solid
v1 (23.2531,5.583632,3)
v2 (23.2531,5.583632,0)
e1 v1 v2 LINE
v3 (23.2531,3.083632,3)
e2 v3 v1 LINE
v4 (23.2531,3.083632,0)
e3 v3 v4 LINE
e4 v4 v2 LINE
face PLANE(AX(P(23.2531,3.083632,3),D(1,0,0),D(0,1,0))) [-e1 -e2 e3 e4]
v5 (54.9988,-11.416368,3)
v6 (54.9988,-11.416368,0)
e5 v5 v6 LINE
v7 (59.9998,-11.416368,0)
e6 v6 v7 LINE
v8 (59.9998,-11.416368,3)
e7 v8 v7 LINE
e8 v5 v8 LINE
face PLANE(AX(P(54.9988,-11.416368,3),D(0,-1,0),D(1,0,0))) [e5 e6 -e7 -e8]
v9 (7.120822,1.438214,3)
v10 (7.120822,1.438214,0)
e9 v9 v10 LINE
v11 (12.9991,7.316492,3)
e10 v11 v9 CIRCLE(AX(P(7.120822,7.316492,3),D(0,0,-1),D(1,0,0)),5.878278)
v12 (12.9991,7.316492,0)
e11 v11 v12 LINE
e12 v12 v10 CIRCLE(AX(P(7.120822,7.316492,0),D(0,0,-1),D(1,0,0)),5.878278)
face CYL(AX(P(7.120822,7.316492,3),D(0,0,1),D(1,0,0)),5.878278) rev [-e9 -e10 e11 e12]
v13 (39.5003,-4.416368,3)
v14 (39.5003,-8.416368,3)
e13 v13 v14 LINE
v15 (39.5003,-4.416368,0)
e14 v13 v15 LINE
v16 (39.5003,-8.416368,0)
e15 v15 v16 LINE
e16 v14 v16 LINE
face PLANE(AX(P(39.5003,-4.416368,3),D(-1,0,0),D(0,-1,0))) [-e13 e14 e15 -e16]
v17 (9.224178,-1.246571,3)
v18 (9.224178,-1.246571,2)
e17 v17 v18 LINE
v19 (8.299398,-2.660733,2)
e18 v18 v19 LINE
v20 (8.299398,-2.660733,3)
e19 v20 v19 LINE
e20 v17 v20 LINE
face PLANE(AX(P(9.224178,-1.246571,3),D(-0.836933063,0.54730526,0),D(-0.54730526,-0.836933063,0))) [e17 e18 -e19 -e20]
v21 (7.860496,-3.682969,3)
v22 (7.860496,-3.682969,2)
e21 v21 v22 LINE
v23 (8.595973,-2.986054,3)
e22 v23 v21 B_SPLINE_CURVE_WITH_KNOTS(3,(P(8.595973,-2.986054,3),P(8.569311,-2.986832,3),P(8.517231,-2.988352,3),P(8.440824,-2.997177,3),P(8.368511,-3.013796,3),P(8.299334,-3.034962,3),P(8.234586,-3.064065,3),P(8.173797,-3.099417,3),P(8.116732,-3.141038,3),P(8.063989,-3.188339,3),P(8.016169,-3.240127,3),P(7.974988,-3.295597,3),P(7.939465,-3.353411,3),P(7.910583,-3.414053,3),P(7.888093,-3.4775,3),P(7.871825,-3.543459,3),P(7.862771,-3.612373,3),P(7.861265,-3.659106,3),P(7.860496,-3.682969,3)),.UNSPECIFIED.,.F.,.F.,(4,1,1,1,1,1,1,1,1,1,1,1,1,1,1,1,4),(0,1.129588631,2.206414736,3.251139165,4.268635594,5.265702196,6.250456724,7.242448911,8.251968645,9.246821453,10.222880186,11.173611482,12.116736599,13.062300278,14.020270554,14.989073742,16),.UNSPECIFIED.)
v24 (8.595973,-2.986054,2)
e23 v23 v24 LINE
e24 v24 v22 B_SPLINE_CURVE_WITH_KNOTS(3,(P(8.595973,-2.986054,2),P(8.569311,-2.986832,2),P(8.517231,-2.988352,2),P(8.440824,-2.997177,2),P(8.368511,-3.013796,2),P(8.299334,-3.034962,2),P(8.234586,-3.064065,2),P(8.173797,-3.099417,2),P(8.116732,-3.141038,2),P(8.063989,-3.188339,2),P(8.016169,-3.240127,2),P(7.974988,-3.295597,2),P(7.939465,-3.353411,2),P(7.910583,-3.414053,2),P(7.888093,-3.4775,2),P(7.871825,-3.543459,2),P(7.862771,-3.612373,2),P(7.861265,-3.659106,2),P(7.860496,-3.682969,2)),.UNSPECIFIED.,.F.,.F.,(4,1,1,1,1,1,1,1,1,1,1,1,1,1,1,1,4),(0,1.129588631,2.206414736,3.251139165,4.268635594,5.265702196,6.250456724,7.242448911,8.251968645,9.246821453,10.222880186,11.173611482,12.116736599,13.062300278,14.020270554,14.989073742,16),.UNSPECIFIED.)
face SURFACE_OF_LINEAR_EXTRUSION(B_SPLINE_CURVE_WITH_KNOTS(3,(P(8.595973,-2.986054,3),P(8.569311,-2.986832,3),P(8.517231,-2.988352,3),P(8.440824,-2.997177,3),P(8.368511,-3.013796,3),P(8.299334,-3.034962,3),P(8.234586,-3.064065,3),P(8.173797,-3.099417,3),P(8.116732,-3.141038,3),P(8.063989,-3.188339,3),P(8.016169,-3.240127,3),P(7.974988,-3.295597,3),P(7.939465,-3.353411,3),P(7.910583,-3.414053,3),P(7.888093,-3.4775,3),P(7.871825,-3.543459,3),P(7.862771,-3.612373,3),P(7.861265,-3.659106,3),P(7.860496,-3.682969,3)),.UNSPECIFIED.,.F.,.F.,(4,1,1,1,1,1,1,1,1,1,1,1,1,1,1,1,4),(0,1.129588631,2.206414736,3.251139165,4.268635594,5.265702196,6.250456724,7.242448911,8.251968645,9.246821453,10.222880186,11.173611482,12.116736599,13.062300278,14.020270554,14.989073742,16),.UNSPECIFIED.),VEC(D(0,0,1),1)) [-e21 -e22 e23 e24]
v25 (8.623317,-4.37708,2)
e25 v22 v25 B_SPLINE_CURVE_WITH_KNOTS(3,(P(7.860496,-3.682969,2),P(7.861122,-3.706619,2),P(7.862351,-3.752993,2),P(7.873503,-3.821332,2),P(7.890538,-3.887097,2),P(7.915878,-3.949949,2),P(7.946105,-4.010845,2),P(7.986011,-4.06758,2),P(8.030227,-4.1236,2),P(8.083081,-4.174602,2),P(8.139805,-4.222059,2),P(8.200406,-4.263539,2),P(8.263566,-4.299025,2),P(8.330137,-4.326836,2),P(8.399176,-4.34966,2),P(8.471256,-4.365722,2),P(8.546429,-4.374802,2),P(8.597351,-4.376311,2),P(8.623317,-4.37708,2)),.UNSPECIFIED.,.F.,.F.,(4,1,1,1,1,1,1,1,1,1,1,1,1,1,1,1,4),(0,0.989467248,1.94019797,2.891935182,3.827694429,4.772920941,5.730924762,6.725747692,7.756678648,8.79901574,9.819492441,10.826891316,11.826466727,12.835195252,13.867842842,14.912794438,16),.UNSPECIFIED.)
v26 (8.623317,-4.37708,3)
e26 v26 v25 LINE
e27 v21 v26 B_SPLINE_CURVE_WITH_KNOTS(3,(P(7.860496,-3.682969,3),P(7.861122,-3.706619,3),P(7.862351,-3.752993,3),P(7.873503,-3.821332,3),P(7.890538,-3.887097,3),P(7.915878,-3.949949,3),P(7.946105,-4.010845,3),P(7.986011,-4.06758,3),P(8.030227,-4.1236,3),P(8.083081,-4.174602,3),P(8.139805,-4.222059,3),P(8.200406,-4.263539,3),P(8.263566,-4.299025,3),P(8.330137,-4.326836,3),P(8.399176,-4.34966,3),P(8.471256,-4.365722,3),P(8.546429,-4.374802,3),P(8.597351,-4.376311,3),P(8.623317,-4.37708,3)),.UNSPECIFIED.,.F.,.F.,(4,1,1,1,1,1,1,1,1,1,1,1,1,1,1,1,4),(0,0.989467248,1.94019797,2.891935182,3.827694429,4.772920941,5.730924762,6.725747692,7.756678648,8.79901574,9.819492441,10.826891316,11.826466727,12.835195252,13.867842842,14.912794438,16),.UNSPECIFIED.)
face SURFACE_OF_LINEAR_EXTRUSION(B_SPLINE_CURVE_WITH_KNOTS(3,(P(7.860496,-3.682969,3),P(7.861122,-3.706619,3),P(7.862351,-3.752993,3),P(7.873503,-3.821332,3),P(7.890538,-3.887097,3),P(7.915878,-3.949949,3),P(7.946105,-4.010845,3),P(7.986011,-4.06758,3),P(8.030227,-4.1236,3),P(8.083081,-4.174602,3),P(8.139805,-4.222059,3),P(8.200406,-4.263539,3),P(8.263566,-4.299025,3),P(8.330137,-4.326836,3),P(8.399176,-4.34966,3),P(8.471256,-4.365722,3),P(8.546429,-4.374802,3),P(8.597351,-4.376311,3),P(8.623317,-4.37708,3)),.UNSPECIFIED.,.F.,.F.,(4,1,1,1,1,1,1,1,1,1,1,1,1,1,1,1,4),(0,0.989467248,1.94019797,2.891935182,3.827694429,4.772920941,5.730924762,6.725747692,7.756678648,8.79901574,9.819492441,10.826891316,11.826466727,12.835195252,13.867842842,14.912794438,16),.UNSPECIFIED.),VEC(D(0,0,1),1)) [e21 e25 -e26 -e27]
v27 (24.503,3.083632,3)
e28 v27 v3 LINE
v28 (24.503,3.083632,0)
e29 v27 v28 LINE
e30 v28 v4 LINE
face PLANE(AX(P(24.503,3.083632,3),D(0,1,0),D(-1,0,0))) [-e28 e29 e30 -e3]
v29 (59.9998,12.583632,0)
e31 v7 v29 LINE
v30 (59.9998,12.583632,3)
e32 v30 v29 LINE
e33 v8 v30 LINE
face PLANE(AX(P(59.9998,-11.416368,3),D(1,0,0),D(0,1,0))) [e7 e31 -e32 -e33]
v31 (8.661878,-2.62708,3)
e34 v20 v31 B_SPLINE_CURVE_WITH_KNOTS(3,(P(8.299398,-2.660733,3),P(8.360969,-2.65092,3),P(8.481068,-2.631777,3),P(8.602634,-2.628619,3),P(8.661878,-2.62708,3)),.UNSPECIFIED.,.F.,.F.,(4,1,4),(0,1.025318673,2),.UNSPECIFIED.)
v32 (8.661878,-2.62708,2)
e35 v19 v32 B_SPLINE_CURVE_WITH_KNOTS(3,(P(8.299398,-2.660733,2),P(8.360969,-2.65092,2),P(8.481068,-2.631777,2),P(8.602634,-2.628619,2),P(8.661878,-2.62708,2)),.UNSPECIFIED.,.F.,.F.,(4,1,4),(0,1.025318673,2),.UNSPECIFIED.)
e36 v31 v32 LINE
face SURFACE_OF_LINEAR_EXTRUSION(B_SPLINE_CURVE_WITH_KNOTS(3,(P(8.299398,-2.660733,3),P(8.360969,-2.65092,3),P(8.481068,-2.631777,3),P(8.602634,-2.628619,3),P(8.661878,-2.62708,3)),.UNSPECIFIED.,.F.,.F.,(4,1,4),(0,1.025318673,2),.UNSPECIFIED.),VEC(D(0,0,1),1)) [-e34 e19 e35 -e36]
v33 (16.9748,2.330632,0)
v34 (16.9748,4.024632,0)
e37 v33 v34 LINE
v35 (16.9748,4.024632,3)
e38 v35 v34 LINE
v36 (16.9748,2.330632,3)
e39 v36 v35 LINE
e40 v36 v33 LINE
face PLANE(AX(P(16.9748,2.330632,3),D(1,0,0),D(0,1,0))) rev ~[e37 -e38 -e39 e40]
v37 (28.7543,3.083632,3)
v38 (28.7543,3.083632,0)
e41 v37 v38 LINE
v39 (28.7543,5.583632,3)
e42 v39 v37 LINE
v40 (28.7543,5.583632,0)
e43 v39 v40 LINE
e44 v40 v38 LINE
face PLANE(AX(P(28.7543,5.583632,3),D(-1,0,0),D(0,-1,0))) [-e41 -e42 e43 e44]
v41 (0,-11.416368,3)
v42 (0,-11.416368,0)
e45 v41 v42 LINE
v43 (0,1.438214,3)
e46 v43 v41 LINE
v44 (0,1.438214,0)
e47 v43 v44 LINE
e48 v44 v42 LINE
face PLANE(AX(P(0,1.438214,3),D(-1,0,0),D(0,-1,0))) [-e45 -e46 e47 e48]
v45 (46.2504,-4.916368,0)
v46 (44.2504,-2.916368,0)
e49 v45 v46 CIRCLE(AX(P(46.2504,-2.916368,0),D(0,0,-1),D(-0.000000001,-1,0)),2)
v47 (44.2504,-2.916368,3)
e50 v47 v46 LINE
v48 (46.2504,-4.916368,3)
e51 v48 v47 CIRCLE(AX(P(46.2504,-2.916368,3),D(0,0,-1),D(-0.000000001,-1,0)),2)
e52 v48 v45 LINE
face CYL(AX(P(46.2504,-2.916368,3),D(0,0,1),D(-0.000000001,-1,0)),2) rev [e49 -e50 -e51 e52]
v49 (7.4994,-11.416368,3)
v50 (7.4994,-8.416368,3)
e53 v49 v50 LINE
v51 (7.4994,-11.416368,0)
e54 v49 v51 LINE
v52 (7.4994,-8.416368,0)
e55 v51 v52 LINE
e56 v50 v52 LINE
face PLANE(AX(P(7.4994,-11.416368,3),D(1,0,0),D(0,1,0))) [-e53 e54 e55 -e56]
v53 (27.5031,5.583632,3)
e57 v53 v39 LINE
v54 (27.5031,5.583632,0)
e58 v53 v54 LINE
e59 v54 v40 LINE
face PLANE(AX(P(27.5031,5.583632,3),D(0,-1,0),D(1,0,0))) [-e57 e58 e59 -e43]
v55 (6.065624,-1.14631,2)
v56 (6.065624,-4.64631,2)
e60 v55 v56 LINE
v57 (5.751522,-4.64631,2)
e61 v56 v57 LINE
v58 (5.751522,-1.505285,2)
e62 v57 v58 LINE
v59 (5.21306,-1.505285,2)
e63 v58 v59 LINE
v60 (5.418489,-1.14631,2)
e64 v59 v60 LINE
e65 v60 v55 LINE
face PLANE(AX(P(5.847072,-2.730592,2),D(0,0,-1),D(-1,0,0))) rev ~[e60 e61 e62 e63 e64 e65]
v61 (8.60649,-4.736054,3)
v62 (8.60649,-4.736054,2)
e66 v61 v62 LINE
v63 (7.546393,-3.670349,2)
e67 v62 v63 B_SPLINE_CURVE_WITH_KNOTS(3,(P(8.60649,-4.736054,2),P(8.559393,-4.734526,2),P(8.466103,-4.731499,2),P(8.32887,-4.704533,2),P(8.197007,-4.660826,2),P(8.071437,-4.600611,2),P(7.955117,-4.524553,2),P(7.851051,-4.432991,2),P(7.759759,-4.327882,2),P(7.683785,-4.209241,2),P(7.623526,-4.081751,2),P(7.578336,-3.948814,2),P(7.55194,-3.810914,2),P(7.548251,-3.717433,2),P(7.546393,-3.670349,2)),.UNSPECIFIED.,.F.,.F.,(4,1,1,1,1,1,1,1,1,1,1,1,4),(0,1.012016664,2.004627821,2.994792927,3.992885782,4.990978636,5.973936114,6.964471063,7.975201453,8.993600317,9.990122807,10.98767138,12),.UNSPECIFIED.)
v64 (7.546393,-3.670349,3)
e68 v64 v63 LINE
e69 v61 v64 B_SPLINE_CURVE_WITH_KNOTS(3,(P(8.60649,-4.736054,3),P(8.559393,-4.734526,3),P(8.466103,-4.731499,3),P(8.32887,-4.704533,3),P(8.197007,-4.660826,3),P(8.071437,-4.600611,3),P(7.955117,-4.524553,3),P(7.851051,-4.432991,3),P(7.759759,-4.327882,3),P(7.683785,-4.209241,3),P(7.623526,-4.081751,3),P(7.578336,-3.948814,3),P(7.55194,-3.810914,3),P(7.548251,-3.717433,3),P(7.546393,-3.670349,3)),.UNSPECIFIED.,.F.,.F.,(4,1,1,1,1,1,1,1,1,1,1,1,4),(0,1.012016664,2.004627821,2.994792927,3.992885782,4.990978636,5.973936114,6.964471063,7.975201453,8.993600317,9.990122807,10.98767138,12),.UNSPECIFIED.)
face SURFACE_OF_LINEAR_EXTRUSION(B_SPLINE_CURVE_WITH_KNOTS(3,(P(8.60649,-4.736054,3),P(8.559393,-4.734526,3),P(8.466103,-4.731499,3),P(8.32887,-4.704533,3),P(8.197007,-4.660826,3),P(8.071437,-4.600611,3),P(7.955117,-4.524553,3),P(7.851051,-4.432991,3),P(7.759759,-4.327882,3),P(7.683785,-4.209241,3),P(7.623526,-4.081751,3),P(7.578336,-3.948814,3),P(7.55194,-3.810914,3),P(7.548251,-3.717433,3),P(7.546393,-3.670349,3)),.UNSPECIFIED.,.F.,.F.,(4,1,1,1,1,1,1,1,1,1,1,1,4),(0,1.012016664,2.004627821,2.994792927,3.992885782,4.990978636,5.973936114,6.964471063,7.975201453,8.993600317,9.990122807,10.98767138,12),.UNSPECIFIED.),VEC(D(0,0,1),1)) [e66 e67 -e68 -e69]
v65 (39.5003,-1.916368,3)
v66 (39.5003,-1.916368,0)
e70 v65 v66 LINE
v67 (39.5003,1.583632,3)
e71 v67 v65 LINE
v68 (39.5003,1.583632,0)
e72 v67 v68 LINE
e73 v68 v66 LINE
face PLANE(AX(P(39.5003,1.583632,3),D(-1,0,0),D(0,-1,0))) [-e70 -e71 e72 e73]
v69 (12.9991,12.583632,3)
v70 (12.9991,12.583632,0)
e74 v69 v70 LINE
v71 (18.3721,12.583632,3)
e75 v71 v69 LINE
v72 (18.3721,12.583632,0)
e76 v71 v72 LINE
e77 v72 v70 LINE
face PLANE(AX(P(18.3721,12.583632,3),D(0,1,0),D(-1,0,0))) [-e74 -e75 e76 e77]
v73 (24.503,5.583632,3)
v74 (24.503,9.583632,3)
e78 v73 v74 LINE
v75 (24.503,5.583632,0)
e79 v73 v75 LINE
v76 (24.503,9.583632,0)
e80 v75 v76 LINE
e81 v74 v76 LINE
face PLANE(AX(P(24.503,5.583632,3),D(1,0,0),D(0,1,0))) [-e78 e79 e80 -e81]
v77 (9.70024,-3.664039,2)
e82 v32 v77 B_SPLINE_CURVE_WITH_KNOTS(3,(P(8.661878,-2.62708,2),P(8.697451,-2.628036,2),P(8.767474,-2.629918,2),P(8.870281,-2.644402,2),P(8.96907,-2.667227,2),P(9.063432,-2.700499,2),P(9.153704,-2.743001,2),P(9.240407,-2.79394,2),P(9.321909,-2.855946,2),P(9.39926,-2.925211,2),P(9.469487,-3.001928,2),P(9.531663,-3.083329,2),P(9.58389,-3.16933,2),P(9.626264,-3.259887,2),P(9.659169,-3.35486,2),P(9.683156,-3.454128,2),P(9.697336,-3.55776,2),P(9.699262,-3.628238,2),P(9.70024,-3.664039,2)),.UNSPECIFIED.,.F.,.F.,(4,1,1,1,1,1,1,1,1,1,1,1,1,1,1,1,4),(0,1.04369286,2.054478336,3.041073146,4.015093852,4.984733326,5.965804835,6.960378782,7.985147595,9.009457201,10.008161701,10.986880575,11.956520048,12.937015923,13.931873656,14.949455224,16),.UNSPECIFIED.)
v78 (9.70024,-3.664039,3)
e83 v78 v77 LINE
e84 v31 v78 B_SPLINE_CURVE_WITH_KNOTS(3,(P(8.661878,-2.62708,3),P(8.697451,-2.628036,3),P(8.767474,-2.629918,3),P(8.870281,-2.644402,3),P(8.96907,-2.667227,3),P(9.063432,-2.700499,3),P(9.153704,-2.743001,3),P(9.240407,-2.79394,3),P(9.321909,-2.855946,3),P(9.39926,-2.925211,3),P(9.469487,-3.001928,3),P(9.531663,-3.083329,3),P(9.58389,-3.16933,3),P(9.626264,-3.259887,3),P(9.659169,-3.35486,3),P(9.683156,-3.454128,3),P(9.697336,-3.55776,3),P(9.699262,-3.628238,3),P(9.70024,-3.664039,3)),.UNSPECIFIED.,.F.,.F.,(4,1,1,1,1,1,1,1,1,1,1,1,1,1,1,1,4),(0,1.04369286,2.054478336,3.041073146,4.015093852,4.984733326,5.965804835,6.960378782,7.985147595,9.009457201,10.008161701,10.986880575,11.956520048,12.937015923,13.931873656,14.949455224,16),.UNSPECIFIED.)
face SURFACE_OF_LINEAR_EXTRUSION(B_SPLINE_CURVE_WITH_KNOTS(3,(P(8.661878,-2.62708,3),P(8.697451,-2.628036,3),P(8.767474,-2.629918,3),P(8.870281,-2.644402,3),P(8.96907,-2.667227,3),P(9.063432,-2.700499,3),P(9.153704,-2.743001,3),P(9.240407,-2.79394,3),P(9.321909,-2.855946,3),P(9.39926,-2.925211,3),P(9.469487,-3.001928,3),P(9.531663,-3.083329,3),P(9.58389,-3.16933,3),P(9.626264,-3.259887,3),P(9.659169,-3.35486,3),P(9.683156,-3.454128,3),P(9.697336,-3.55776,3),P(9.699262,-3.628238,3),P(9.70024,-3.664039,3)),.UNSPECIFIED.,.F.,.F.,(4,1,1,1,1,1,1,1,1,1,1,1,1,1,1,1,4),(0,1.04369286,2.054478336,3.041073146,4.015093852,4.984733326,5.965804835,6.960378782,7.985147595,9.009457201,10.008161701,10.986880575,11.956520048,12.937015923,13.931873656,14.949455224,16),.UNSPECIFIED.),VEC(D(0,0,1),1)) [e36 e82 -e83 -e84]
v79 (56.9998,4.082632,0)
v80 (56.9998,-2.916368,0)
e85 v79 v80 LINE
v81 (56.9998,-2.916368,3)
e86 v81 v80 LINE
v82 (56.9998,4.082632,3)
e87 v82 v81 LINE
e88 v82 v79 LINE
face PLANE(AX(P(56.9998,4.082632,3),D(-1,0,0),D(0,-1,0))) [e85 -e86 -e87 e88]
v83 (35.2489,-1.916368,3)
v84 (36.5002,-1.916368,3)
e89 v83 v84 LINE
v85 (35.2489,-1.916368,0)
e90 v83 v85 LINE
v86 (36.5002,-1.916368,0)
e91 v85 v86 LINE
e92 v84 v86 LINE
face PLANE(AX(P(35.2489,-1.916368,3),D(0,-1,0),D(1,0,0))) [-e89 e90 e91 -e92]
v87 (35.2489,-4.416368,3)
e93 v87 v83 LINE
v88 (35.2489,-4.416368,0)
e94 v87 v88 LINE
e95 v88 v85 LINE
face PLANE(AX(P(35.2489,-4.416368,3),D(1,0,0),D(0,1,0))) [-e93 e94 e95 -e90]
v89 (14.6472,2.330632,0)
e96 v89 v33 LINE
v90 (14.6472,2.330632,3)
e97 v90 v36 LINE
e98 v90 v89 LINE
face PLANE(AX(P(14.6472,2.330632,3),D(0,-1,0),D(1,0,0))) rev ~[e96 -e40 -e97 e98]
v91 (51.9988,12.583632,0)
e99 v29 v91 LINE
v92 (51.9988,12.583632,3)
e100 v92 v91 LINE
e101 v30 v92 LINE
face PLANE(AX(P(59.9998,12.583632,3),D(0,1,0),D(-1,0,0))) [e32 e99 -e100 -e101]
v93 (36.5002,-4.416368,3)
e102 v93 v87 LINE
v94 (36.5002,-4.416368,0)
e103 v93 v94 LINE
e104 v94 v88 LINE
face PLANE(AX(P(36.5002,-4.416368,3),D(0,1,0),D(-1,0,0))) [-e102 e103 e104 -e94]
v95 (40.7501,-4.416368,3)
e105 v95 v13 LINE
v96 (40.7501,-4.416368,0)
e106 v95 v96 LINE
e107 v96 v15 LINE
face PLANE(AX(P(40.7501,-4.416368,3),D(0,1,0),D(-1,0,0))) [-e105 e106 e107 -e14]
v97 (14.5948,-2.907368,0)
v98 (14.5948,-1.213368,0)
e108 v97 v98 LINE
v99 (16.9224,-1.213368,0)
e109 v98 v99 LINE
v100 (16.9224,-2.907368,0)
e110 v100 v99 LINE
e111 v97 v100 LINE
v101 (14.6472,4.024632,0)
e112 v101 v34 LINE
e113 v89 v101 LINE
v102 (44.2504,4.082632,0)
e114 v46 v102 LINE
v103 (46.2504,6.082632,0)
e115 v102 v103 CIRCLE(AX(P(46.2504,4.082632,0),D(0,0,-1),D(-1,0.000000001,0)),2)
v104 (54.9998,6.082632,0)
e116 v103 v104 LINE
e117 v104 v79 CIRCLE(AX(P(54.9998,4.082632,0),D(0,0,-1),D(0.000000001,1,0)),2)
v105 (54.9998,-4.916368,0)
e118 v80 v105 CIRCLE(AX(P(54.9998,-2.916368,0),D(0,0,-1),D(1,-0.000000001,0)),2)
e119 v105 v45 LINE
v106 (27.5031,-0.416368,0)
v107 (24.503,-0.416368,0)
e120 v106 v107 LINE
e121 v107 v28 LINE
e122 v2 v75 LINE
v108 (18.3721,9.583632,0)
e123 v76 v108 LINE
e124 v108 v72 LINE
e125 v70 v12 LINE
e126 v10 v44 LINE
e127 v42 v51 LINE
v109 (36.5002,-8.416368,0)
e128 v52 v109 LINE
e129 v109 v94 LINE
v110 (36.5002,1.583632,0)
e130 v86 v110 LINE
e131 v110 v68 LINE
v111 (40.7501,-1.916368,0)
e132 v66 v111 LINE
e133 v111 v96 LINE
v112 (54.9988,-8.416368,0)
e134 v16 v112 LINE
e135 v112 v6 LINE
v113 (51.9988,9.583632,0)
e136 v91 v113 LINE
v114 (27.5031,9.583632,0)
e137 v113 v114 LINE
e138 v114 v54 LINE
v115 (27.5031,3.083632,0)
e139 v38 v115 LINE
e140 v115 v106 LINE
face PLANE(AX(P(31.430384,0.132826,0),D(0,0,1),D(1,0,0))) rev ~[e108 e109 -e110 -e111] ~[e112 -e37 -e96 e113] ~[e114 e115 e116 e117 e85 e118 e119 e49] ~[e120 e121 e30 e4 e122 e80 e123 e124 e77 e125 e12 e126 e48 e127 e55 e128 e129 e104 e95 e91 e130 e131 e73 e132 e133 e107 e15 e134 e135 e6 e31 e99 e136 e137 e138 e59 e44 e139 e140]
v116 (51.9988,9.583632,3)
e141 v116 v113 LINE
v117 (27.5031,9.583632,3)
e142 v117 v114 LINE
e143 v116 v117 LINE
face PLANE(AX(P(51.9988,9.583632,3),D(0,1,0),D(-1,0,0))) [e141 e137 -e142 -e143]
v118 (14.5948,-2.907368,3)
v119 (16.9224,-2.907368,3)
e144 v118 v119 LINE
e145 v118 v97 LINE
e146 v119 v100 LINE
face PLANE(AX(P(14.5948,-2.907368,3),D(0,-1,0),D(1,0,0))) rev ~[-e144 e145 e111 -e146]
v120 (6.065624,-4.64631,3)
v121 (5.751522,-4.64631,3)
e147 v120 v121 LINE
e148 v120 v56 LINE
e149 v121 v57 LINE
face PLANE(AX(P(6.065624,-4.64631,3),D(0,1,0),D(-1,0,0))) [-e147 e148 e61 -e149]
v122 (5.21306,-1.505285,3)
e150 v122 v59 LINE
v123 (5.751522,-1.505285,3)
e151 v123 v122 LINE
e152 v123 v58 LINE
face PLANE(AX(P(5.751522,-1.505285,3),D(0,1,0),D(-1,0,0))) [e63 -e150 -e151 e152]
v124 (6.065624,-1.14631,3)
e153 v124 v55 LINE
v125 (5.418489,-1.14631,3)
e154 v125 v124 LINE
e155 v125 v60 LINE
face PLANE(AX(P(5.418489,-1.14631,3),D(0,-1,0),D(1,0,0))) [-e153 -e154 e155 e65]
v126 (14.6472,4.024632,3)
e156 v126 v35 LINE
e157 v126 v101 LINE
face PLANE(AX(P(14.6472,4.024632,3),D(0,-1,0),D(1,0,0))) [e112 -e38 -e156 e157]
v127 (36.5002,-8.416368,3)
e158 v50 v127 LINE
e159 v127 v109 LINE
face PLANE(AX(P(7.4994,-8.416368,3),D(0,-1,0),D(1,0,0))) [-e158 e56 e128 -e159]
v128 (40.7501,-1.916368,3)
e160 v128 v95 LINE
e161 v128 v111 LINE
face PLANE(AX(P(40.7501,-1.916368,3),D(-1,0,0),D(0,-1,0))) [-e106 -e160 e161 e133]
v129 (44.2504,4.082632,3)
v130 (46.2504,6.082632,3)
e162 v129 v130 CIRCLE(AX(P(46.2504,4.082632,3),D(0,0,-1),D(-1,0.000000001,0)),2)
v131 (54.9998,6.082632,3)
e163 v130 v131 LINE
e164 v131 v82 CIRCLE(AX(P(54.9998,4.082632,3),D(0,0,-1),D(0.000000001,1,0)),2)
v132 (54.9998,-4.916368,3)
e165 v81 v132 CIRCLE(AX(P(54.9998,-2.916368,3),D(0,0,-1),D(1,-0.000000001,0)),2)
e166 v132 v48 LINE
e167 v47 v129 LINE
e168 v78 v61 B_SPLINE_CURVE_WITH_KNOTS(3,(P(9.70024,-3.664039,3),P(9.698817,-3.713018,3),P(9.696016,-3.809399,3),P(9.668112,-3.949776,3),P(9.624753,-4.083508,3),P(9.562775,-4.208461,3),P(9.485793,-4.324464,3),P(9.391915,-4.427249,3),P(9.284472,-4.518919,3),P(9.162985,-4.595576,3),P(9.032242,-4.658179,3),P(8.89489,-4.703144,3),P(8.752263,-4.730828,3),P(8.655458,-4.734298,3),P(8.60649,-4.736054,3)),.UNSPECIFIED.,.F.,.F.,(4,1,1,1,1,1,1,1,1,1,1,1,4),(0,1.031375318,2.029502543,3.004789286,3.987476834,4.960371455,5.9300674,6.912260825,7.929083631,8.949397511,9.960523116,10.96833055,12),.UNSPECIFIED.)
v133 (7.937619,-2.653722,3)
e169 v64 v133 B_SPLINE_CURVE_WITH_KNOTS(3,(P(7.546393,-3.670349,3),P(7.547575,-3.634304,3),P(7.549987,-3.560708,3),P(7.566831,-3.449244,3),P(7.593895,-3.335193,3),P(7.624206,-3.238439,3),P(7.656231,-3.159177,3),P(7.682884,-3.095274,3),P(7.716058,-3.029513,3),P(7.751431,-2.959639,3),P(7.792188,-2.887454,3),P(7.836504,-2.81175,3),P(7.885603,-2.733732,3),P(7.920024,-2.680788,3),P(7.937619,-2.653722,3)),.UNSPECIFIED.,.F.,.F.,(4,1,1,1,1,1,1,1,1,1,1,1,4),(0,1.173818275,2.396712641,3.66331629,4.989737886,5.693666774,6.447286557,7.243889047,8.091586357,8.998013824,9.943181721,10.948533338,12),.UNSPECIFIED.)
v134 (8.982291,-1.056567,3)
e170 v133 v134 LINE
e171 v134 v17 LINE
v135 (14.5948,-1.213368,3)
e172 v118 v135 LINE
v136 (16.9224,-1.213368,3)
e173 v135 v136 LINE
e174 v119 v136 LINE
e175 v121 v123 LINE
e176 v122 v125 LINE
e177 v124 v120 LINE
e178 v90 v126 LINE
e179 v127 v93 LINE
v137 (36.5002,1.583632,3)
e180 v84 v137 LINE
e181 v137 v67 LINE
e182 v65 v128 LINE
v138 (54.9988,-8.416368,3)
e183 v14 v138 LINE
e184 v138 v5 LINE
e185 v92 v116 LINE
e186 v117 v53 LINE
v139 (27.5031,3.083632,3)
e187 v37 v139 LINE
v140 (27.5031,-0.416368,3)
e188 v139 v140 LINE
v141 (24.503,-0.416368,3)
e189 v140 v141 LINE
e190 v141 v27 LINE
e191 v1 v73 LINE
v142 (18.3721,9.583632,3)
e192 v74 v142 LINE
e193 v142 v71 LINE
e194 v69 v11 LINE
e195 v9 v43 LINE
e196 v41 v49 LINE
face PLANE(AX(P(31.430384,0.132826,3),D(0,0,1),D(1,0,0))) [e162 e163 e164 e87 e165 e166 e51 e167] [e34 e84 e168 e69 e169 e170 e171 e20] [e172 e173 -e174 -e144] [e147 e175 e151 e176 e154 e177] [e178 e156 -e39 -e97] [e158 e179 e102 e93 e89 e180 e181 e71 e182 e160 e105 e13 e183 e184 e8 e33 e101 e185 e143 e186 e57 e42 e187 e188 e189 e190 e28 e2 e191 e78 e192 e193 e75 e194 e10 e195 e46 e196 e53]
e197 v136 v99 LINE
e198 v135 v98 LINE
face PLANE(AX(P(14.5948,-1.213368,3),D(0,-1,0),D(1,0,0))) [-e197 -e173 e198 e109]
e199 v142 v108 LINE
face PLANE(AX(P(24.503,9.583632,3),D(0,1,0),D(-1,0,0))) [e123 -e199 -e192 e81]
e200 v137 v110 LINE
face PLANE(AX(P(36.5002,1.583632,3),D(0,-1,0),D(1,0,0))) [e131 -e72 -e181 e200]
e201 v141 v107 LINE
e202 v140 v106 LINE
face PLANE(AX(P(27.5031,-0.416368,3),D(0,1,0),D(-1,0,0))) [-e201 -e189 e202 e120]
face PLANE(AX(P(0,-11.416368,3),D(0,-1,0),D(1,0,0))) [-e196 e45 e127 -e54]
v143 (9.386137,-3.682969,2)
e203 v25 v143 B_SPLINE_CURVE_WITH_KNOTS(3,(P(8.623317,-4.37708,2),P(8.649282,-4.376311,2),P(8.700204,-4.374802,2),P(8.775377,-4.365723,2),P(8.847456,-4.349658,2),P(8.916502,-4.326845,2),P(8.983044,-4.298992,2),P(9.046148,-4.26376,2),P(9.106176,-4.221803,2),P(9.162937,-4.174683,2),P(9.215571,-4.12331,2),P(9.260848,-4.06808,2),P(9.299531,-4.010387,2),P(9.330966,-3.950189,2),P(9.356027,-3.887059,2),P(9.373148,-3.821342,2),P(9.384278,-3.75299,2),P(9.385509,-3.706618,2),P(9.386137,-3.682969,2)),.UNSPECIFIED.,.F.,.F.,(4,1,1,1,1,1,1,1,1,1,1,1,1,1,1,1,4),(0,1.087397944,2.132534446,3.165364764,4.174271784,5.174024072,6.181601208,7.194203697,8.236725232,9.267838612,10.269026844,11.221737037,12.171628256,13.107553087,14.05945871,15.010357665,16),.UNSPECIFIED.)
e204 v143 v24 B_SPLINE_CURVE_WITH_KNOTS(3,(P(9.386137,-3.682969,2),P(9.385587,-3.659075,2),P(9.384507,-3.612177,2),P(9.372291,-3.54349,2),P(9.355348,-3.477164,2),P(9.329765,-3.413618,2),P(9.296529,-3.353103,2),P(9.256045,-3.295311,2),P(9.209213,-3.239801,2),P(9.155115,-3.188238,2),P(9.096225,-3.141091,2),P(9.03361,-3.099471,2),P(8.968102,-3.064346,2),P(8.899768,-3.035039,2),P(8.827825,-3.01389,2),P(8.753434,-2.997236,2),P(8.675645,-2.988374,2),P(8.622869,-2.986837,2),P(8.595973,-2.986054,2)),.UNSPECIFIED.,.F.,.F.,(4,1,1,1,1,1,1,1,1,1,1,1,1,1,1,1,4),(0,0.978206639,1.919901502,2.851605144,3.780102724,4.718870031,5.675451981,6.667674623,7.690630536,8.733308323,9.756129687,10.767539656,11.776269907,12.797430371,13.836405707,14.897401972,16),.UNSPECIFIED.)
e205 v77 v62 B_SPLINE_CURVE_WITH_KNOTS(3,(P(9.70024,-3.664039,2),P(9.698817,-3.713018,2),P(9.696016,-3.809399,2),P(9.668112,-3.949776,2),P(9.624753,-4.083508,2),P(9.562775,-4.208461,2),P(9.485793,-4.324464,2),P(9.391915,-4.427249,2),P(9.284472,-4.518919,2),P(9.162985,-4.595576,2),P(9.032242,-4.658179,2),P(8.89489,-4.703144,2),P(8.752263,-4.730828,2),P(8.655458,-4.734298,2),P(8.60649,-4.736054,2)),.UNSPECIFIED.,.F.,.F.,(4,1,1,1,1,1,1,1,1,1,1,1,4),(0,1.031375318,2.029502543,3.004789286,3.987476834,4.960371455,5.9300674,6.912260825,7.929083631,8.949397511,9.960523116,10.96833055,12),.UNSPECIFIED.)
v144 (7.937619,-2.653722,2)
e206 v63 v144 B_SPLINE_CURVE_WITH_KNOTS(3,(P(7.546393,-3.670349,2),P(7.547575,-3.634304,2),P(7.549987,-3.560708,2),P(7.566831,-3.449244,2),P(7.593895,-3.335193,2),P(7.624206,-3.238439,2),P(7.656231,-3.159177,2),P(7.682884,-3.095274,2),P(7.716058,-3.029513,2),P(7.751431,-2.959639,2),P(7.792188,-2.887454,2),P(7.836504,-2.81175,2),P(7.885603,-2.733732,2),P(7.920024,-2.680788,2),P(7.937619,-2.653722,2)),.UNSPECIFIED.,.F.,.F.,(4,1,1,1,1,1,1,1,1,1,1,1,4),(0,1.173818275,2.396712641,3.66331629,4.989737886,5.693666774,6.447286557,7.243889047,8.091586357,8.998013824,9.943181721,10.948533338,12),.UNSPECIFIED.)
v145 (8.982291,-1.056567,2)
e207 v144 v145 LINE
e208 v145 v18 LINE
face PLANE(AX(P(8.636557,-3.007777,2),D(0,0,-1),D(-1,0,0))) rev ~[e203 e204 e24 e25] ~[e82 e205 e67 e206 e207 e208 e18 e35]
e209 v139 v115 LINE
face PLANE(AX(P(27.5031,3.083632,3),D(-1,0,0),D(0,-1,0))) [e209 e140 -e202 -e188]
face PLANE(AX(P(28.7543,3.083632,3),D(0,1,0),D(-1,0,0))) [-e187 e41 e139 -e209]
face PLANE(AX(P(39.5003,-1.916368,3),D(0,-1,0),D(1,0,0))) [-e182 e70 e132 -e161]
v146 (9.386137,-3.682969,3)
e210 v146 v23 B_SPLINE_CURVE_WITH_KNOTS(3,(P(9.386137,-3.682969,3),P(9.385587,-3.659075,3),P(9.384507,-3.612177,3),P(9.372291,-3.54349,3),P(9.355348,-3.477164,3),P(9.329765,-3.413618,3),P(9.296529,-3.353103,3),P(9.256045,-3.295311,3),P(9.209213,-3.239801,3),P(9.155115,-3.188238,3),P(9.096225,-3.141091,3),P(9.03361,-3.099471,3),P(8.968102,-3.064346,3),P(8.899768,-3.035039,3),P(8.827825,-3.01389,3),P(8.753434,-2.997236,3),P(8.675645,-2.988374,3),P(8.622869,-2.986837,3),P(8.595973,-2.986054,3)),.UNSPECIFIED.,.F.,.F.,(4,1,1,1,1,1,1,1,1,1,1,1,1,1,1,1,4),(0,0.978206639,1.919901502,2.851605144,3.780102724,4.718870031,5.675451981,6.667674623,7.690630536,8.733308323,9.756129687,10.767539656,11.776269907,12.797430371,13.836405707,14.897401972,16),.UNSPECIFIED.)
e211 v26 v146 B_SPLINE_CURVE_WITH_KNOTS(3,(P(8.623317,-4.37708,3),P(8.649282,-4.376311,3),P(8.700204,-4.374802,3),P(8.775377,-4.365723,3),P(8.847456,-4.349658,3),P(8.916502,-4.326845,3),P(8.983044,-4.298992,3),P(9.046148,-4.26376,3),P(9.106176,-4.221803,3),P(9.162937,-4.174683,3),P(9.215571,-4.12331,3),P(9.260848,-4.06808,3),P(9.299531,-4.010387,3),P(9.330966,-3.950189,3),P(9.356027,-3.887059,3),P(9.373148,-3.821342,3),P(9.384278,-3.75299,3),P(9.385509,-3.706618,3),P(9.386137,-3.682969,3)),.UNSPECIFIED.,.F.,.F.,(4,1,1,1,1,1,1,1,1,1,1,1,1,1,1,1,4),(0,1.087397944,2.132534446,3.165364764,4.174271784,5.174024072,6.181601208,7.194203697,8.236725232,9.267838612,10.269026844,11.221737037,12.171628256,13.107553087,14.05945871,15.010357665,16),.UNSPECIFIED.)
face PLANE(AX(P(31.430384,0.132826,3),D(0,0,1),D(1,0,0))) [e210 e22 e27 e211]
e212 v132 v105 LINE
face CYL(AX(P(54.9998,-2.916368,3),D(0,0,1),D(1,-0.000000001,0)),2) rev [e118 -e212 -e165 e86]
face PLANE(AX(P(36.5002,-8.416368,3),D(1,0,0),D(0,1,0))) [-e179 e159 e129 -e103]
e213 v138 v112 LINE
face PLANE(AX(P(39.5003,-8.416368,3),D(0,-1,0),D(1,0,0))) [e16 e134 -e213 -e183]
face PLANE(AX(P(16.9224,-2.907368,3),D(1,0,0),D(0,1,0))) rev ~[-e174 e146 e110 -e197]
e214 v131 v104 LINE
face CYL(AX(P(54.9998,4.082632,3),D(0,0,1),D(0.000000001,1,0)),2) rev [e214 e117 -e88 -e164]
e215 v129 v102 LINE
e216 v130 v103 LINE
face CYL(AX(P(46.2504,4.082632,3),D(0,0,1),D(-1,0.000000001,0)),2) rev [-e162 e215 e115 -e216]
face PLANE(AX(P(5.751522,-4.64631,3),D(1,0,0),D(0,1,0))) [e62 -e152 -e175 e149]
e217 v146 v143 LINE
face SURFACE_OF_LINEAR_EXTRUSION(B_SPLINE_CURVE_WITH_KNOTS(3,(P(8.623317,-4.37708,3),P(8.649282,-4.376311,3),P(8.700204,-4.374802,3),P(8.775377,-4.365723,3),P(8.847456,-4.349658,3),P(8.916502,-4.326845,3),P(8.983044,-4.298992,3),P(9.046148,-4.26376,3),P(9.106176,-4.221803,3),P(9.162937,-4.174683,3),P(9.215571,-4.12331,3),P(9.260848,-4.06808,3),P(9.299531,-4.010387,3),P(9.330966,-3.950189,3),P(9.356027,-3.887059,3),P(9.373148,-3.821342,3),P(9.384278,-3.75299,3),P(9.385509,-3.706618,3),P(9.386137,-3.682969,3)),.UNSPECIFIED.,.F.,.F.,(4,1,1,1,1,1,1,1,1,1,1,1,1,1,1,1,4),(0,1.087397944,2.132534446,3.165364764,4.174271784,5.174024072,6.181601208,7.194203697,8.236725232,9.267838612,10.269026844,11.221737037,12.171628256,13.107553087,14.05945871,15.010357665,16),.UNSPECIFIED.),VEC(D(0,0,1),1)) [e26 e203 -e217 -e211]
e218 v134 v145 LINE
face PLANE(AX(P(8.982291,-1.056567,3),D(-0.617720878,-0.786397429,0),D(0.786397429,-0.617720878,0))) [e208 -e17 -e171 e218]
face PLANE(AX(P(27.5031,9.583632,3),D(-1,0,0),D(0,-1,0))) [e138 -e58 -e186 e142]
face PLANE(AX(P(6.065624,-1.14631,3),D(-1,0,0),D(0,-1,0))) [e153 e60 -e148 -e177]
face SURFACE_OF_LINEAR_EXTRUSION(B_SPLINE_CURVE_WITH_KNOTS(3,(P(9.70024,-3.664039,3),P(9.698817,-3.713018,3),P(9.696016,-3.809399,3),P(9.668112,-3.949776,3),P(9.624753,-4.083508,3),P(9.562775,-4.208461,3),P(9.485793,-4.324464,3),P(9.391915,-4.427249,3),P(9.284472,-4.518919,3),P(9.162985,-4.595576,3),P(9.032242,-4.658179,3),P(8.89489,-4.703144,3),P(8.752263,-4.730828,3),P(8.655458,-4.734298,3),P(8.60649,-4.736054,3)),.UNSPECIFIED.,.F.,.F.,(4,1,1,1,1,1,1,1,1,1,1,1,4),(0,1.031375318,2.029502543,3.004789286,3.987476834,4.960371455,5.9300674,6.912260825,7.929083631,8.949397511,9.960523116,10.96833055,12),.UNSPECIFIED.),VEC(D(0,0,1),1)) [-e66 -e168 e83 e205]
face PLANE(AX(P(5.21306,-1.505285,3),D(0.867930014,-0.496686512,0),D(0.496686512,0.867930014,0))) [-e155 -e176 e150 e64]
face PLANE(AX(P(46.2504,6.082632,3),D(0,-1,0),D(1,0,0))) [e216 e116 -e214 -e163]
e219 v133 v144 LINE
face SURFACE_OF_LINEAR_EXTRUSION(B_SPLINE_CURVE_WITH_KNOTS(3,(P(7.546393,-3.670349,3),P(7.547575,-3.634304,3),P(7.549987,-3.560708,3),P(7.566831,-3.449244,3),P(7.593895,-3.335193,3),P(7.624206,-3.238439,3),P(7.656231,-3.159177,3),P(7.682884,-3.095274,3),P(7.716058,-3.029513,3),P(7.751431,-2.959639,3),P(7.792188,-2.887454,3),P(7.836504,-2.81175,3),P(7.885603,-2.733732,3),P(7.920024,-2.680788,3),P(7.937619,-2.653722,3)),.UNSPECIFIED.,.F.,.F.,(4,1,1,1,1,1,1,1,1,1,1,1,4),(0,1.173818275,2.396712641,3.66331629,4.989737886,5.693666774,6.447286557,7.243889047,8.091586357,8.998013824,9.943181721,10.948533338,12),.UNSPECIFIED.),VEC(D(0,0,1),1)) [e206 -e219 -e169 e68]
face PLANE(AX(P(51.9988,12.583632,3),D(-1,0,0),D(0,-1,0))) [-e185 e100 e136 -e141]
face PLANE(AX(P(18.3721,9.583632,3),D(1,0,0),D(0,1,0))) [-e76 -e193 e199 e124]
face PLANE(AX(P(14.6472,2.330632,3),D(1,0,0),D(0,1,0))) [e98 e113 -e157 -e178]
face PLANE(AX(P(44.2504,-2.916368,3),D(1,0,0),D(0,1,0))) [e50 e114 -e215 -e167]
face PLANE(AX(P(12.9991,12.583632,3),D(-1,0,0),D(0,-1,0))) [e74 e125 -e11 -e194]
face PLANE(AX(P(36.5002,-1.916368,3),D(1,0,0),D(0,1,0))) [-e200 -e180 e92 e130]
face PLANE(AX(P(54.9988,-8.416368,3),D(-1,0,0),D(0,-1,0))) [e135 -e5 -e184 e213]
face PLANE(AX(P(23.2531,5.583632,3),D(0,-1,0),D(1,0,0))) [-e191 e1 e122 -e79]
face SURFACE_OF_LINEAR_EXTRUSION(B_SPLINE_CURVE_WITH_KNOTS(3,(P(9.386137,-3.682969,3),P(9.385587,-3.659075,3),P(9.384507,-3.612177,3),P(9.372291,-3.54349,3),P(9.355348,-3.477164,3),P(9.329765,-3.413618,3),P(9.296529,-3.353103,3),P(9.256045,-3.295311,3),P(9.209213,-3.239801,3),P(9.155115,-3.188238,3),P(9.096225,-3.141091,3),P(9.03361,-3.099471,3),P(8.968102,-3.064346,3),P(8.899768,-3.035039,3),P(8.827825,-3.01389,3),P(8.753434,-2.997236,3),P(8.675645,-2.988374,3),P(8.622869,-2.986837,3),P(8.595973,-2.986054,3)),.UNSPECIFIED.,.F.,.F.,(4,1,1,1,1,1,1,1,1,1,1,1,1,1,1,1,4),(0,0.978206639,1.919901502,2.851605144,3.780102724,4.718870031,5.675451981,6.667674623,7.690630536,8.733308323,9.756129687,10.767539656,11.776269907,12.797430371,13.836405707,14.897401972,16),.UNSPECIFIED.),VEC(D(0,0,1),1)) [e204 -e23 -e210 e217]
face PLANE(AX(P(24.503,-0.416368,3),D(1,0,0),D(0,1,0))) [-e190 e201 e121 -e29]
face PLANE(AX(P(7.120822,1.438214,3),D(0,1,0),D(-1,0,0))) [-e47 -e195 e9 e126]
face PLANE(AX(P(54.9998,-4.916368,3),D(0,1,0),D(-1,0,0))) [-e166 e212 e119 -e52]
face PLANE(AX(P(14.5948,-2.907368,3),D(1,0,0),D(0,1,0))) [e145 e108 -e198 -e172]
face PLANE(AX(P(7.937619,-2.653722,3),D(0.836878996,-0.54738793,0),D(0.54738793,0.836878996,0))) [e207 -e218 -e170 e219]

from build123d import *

# Parameters (mm, degrees)
SKETCH_1_W          = 2.3276
SKETCH_1_H          = 1.694
EXTRUDE_1_DEPTH     = 3
CUT_EXTRUDE_1_DEPTH = 1


with BuildPart() as part:
    # 草图1 → 凸台-拉伸1 (new body)
    with BuildSketch(Plane.XY.offset(3)):
        with BuildLine():
            Line((23.2531, 5.583631793), (24.503, 5.583631793))
            Line((24.503, 5.583631793), (24.503, 9.583631793))
            Line((24.503, 9.583631793), (18.3721, 9.583631793))
            Line((18.3721, 9.583631793), (18.3721, 12.583631793))
            Line((18.3721, 12.583631793), (12.9991, 12.583631793))
            Line((12.9991, 12.583631793), (12.9991, 7.316491962))
            ThreePointArc((12.9991, 7.316491962), (11.277392164, 3.159921553), (7.120821755, 1.438213717))
            Line((7.120821755, 1.438213717), (0, 1.438213717))
            Line((0, 1.438213717), (0, -11.416368207))
            Line((0, -11.416368207), (7.4994, -11.416368207))
            Line((7.4994, -11.416368207), (7.4994, -8.416368207))
            Line((7.4994, -8.416368207), (36.5002, -8.416368207))
            Line((36.5002, -8.416368207), (36.5002, -4.416368207))
            Line((36.5002, -4.416368207), (35.2489, -4.416368207))
            Line((35.2489, -4.416368207), (35.2489, -1.916368207))
            Line((35.2489, -1.916368207), (36.5002, -1.916368207))
            Line((36.5002, -1.916368207), (36.5002, 1.583631793))
            Line((36.5002, 1.583631793), (39.5003, 1.583631793))
            Line((39.5003, 1.583631793), (39.5003, -1.916368207))
            Line((39.5003, -1.916368207), (40.7501, -1.916368207))
            Line((40.7501, -1.916368207), (40.7501, -4.416368207))
            Line((40.7501, -4.416368207), (39.5003, -4.416368207))
            Line((39.5003, -4.416368207), (39.5003, -8.416368207))
            Line((39.5003, -8.416368207), (54.9988, -8.416368207))
            Line((54.9988, -8.416368207), (54.9988, -11.416368207))
            Line((54.9988, -11.416368207), (59.9998, -11.416368207))
            Line((59.9998, -11.416368207), (59.9998, 12.583631793))
            Line((59.9998, 12.583631793), (51.9988, 12.583631793))
            Line((51.9988, 12.583631793), (51.9988, 9.583631793))
            Line((51.9988, 9.583631793), (27.5031, 9.583631793))
            Line((27.5031, 9.583631793), (27.5031, 5.583631793))
            Line((27.5031, 5.583631793), (28.7543, 5.583631793))
            Line((28.7543, 5.583631793), (28.7543, 3.083631793))
            Line((28.7543, 3.083631793), (27.5031, 3.083631793))
            Line((27.5031, 3.083631793), (27.5031, -0.416368207))
            Line((27.5031, -0.416368207), (24.503, -0.416368207))
            Line((24.503, -0.416368207), (24.503, 3.083631793))
            Line((24.503, 3.083631793), (23.2531, 3.083631793))
            Line((23.2531, 3.083631793), (23.2531, 5.583631793))
        make_face()
        with BuildLine():
            Line((46.2504, 6.082631793), (54.9998, 6.082631793))
            ThreePointArc((54.9998, 6.082631793), (56.414013562, 5.496845355), (56.9998, 4.082631793))
            Line((56.9998, 4.082631793), (56.9998, -2.916368207))
            ThreePointArc((56.9998, -2.916368207), (56.414013562, -4.330581769), (54.9998, -4.916368207))
            Line((54.9998, -4.916368207), (46.2504, -4.916368207))
            ThreePointArc((46.2504, -4.916368207), (44.836186438, -4.330581769), (44.2504, -2.916368207))
            Line((44.2504, -2.916368207), (44.2504, 4.082631793))
            ThreePointArc((44.2504, 4.082631793), (44.836186438, 5.496845355), (46.2504, 6.082631793))
        make_face(mode=Mode.SUBTRACT)
        with Locations((15.811, 3.177631793)):
            Rectangle(SKETCH_1_W, SKETCH_1_H, mode=Mode.SUBTRACT)
        with Locations((15.7586, -2.060368207)):
            Rectangle(SKETCH_1_W, SKETCH_1_H, mode=Mode.SUBTRACT)
    extrude(amount=-EXTRUDE_1_DEPTH)

    # 草图2 → 切除-拉伸1 (cut)
    # profile 1 of 2: a face of its own
    with BuildSketch(Plane.XY.offset(3)):
        Polygon((5.418488838, -1.146310398), (6.065624255, -1.146310398), (6.065624255, -4.646310398), (5.75152169, -4.646310398), (5.75152169, -1.505284757), (5.213060152, -1.505284757), align=None)
    # profile 2 of 2: a face of its own
    with BuildSketch(Plane.XY.offset(3)):
        with BuildLine():
            Line((8.982290921, -1.056566809), (9.22417794, -1.246570815))
            Line((9.22417794, -1.246570815), (8.299398293, -2.660733475))
            add(Edge.make_bspline(
                [(8.299398293, -2.660733475), (8.36096857, -2.650919615), (8.481068357, -2.63177657), (8.602634255, -2.628618624), (8.661878261, -2.627079629)],
                knots=[0, 0, 0, 0, 1.025318673, 2, 2, 2, 2], degree=3))
            add(Edge.make_bspline(
                [(8.661878261, -2.627079629), (8.697450757, -2.628035741), (8.767474158, -2.629917818), (8.87028096, -2.644401669), (8.969069896, -2.667226781), (9.063431508, -2.700499037), (9.15370449, -2.743001391), (9.240406886, -2.793940261), (9.321908896, -2.855945942), (9.399260075, -2.925210897), (9.469487173, -3.001927882), (9.531663228, -3.083329219), (9.58389002, -3.1693301), (9.626263942, -3.259886966), (9.65916882, -3.354860225), (9.683156465, -3.454128365), (9.697336058, -3.557759836), (9.699261549, -3.628238011), (9.700239639, -3.664038764)],
                knots=[0, 0, 0, 0, 1.04369286, 2.054478336, 3.041073146, 4.015093852, 4.984733326, 5.965804835, 6.960378782, 7.985147595, 9.009457201, 10.008161701, 10.986880575, 11.956520048, 12.937015923, 13.931873656, 14.949455224, 16, 16, 16, 16], degree=3))
            add(Edge.make_bspline(
                [(9.700239639, -3.664038764), (9.698816534, -3.713018468), (9.696016201, -3.809398934), (9.668112405, -3.94977564), (9.62475276, -4.083508155), (9.562775231, -4.208461327), (9.485792849, -4.324463896), (9.391915256, -4.427249362), (9.284471767, -4.518919399), (9.162984969, -4.595576018), (9.032242005, -4.658179069), (8.894890008, -4.703144311), (8.752262861, -4.730827781), (8.655458253, -4.734298384), (8.606489639, -4.736053988)],
                knots=[0, 0, 0, 0, 1.031375318, 2.029502543, 3.004789286, 3.987476834, 4.960371455, 5.9300674, 6.912260825, 7.929083631, 8.949397511, 9.960523116, 10.96833055, 12, 12, 12, 12], degree=3))
            add(Edge.make_bspline(
                [(8.606489639, -4.736053988), (8.559392939, -4.734525782), (8.466102621, -4.731498674), (8.328869826, -4.704532736), (8.197006809, -4.660825634), (8.071437428, -4.600611355), (7.955116815, -4.524553472), (7.851051179, -4.432991193), (7.759759404, -4.327881728), (7.683784783, -4.209241381), (7.623526051, -4.081751423), (7.578336126, -3.948814267), (7.551939883, -3.810914285), (7.548251326, -3.717433146), (7.546393485, -3.67034886)],
                knots=[0, 0, 0, 0, 1.012016664, 2.004627821, 2.994792927, 3.992885782, 4.990978636, 5.973936114, 6.964471063, 7.975201453, 8.993600317, 9.990122807, 10.98767138, 12, 12, 12, 12], degree=3))
            add(Edge.make_bspline(
                [(7.546393485, -3.67034886), (7.54757493, -3.634304277), (7.549987215, -3.560708125), (7.566830606, -3.449244097), (7.5938954, -3.335193015), (7.624205647, -3.238438821), (7.656231257, -3.159177299), (7.682883796, -3.095273809), (7.716057792, -3.029512736), (7.751431174, -2.9596391), (7.792188043, -2.887453667), (7.836503692, -2.811749997), (7.885603343, -2.73373207), (7.920023506, -2.680787874), (7.937619447, -2.653722257)],
                knots=[0, 0, 0, 0, 1.173818275, 2.396712641, 3.66331629, 4.989737886, 5.693666774, 6.447286557, 7.243889047, 8.091586357, 8.998013824, 9.943181721, 10.948533338, 12, 12, 12, 12], degree=3))
            Line((7.937619447, -2.653722257), (8.982290921, -1.056566809))
        make_face()
        with BuildLine():
            add(Edge.make_bspline(
                [(8.595972812, -2.986053988), (8.569310567, -2.986832032), (8.517231458, -2.988351777), (8.440824043, -2.997177029), (8.368510792, -3.013796095), (8.299333658, -3.034962426), (8.234585955, -3.064065486), (8.173797115, -3.099417285), (8.116732064, -3.141038463), (8.063988512, -3.188339374), (8.016168848, -3.240127407), (7.974987718, -3.29559693), (7.939465318, -3.353411133), (7.910583499, -3.414053075), (7.888093423, -3.477499574), (7.871825172, -3.543458824), (7.862771421, -3.61237313), (7.861265189, -3.659105633), (7.860496049, -3.682969052)],
                knots=[0, 0, 0, 0, 1.129588631, 2.206414736, 3.251139165, 4.268635594, 5.265702196, 6.250456724, 7.242448911, 8.251968645, 9.246821453, 10.222880186, 11.173611482, 12.116736599, 13.062300278, 14.020270554, 14.989073742, 16, 16, 16, 16], degree=3))
            add(Edge.make_bspline(
                [(7.860496049, -3.682969052), (7.861122411, -3.706619032), (7.862350613, -3.752993122), (7.873502932, -3.821332301), (7.890538015, -3.88709721), (7.915878411, -3.949948808), (7.946105299, -4.010845127), (7.986010623, -4.067580412), (8.030227409, -4.123600482), (8.083081342, -4.174601954), (8.139804705, -4.222058578), (8.200405908, -4.263538831), (8.263565868, -4.299025005), (8.33013729, -4.326836102), (8.399175674, -4.349660389), (8.471256228, -4.365721868), (8.546429083, -4.374802394), (8.597351021, -4.376310588), (8.623316562, -4.377079629)],
                knots=[0, 0, 0, 0, 0.989467248, 1.94019797, 2.891935182, 3.827694429, 4.772920941, 5.730924762, 6.725747692, 7.756678648, 8.79901574, 9.819492441, 10.826891316, 11.826466727, 12.835195252, 13.867842842, 14.912794438, 16, 16, 16, 16], degree=3))
            add(Edge.make_bspline(
                [(8.623316562, -4.377079629), (8.649282061, -4.376310528), (8.700203915, -4.374802216), (8.775377376, -4.365722547), (8.847455694, -4.349657899), (8.916502203, -4.326845129), (8.983043634, -4.298991519), (9.046148355, -4.263759599), (9.106176449, -4.221803482), (9.162937048, -4.174683053), (9.215570987, -4.123310201), (9.260848266, -4.068080479), (9.299531499, -4.010386584), (9.330965686, -3.950188694), (9.356026977, -3.887059206), (9.373148445, -3.821342482), (9.384277733, -3.752990456), (9.3855091, -3.706618132), (9.386137075, -3.682969052)],
                knots=[0, 0, 0, 0, 1.087397944, 2.132534446, 3.165364764, 4.174271784, 5.174024072, 6.181601208, 7.194203697, 8.236725232, 9.267838612, 10.269026844, 11.221737037, 12.171628256, 13.107553087, 14.05945871, 15.010357665, 16, 16, 16, 16], degree=3))
            add(Edge.make_bspline(
                [(9.386137075, -3.682969052), (9.385586782, -3.659074501), (9.384506736, -3.612177269), (9.372290787, -3.54348965), (9.355348413, -3.477164444), (9.329765383, -3.413618495), (9.296528838, -3.353102568), (9.256045431, -3.295310967), (9.209212861, -3.23980062), (9.155115321, -3.188237811), (9.096225087, -3.141090733), (9.033609502, -3.099471177), (8.968101528, -3.0643462), (8.899767586, -3.035039098), (8.827824703, -3.013889624), (8.753434364, -2.997236381), (8.675645121, -2.988374363), (8.622868513, -2.986837298), (8.595972812, -2.986053988)],
                knots=[0, 0, 0, 0, 0.978206639, 1.919901502, 2.851605144, 3.780102724, 4.718870031, 5.675451981, 6.667674623, 7.690630536, 8.733308323, 9.756129687, 10.767539656, 11.776269907, 12.797430371, 13.836405707, 14.897401972, 16, 16, 16, 16], degree=3))
        make_face(mode=Mode.SUBTRACT)
    extrude(amount=-CUT_EXTRUDE_1_DEPTH, mode=Mode.SUBTRACT)


solid = part.part
